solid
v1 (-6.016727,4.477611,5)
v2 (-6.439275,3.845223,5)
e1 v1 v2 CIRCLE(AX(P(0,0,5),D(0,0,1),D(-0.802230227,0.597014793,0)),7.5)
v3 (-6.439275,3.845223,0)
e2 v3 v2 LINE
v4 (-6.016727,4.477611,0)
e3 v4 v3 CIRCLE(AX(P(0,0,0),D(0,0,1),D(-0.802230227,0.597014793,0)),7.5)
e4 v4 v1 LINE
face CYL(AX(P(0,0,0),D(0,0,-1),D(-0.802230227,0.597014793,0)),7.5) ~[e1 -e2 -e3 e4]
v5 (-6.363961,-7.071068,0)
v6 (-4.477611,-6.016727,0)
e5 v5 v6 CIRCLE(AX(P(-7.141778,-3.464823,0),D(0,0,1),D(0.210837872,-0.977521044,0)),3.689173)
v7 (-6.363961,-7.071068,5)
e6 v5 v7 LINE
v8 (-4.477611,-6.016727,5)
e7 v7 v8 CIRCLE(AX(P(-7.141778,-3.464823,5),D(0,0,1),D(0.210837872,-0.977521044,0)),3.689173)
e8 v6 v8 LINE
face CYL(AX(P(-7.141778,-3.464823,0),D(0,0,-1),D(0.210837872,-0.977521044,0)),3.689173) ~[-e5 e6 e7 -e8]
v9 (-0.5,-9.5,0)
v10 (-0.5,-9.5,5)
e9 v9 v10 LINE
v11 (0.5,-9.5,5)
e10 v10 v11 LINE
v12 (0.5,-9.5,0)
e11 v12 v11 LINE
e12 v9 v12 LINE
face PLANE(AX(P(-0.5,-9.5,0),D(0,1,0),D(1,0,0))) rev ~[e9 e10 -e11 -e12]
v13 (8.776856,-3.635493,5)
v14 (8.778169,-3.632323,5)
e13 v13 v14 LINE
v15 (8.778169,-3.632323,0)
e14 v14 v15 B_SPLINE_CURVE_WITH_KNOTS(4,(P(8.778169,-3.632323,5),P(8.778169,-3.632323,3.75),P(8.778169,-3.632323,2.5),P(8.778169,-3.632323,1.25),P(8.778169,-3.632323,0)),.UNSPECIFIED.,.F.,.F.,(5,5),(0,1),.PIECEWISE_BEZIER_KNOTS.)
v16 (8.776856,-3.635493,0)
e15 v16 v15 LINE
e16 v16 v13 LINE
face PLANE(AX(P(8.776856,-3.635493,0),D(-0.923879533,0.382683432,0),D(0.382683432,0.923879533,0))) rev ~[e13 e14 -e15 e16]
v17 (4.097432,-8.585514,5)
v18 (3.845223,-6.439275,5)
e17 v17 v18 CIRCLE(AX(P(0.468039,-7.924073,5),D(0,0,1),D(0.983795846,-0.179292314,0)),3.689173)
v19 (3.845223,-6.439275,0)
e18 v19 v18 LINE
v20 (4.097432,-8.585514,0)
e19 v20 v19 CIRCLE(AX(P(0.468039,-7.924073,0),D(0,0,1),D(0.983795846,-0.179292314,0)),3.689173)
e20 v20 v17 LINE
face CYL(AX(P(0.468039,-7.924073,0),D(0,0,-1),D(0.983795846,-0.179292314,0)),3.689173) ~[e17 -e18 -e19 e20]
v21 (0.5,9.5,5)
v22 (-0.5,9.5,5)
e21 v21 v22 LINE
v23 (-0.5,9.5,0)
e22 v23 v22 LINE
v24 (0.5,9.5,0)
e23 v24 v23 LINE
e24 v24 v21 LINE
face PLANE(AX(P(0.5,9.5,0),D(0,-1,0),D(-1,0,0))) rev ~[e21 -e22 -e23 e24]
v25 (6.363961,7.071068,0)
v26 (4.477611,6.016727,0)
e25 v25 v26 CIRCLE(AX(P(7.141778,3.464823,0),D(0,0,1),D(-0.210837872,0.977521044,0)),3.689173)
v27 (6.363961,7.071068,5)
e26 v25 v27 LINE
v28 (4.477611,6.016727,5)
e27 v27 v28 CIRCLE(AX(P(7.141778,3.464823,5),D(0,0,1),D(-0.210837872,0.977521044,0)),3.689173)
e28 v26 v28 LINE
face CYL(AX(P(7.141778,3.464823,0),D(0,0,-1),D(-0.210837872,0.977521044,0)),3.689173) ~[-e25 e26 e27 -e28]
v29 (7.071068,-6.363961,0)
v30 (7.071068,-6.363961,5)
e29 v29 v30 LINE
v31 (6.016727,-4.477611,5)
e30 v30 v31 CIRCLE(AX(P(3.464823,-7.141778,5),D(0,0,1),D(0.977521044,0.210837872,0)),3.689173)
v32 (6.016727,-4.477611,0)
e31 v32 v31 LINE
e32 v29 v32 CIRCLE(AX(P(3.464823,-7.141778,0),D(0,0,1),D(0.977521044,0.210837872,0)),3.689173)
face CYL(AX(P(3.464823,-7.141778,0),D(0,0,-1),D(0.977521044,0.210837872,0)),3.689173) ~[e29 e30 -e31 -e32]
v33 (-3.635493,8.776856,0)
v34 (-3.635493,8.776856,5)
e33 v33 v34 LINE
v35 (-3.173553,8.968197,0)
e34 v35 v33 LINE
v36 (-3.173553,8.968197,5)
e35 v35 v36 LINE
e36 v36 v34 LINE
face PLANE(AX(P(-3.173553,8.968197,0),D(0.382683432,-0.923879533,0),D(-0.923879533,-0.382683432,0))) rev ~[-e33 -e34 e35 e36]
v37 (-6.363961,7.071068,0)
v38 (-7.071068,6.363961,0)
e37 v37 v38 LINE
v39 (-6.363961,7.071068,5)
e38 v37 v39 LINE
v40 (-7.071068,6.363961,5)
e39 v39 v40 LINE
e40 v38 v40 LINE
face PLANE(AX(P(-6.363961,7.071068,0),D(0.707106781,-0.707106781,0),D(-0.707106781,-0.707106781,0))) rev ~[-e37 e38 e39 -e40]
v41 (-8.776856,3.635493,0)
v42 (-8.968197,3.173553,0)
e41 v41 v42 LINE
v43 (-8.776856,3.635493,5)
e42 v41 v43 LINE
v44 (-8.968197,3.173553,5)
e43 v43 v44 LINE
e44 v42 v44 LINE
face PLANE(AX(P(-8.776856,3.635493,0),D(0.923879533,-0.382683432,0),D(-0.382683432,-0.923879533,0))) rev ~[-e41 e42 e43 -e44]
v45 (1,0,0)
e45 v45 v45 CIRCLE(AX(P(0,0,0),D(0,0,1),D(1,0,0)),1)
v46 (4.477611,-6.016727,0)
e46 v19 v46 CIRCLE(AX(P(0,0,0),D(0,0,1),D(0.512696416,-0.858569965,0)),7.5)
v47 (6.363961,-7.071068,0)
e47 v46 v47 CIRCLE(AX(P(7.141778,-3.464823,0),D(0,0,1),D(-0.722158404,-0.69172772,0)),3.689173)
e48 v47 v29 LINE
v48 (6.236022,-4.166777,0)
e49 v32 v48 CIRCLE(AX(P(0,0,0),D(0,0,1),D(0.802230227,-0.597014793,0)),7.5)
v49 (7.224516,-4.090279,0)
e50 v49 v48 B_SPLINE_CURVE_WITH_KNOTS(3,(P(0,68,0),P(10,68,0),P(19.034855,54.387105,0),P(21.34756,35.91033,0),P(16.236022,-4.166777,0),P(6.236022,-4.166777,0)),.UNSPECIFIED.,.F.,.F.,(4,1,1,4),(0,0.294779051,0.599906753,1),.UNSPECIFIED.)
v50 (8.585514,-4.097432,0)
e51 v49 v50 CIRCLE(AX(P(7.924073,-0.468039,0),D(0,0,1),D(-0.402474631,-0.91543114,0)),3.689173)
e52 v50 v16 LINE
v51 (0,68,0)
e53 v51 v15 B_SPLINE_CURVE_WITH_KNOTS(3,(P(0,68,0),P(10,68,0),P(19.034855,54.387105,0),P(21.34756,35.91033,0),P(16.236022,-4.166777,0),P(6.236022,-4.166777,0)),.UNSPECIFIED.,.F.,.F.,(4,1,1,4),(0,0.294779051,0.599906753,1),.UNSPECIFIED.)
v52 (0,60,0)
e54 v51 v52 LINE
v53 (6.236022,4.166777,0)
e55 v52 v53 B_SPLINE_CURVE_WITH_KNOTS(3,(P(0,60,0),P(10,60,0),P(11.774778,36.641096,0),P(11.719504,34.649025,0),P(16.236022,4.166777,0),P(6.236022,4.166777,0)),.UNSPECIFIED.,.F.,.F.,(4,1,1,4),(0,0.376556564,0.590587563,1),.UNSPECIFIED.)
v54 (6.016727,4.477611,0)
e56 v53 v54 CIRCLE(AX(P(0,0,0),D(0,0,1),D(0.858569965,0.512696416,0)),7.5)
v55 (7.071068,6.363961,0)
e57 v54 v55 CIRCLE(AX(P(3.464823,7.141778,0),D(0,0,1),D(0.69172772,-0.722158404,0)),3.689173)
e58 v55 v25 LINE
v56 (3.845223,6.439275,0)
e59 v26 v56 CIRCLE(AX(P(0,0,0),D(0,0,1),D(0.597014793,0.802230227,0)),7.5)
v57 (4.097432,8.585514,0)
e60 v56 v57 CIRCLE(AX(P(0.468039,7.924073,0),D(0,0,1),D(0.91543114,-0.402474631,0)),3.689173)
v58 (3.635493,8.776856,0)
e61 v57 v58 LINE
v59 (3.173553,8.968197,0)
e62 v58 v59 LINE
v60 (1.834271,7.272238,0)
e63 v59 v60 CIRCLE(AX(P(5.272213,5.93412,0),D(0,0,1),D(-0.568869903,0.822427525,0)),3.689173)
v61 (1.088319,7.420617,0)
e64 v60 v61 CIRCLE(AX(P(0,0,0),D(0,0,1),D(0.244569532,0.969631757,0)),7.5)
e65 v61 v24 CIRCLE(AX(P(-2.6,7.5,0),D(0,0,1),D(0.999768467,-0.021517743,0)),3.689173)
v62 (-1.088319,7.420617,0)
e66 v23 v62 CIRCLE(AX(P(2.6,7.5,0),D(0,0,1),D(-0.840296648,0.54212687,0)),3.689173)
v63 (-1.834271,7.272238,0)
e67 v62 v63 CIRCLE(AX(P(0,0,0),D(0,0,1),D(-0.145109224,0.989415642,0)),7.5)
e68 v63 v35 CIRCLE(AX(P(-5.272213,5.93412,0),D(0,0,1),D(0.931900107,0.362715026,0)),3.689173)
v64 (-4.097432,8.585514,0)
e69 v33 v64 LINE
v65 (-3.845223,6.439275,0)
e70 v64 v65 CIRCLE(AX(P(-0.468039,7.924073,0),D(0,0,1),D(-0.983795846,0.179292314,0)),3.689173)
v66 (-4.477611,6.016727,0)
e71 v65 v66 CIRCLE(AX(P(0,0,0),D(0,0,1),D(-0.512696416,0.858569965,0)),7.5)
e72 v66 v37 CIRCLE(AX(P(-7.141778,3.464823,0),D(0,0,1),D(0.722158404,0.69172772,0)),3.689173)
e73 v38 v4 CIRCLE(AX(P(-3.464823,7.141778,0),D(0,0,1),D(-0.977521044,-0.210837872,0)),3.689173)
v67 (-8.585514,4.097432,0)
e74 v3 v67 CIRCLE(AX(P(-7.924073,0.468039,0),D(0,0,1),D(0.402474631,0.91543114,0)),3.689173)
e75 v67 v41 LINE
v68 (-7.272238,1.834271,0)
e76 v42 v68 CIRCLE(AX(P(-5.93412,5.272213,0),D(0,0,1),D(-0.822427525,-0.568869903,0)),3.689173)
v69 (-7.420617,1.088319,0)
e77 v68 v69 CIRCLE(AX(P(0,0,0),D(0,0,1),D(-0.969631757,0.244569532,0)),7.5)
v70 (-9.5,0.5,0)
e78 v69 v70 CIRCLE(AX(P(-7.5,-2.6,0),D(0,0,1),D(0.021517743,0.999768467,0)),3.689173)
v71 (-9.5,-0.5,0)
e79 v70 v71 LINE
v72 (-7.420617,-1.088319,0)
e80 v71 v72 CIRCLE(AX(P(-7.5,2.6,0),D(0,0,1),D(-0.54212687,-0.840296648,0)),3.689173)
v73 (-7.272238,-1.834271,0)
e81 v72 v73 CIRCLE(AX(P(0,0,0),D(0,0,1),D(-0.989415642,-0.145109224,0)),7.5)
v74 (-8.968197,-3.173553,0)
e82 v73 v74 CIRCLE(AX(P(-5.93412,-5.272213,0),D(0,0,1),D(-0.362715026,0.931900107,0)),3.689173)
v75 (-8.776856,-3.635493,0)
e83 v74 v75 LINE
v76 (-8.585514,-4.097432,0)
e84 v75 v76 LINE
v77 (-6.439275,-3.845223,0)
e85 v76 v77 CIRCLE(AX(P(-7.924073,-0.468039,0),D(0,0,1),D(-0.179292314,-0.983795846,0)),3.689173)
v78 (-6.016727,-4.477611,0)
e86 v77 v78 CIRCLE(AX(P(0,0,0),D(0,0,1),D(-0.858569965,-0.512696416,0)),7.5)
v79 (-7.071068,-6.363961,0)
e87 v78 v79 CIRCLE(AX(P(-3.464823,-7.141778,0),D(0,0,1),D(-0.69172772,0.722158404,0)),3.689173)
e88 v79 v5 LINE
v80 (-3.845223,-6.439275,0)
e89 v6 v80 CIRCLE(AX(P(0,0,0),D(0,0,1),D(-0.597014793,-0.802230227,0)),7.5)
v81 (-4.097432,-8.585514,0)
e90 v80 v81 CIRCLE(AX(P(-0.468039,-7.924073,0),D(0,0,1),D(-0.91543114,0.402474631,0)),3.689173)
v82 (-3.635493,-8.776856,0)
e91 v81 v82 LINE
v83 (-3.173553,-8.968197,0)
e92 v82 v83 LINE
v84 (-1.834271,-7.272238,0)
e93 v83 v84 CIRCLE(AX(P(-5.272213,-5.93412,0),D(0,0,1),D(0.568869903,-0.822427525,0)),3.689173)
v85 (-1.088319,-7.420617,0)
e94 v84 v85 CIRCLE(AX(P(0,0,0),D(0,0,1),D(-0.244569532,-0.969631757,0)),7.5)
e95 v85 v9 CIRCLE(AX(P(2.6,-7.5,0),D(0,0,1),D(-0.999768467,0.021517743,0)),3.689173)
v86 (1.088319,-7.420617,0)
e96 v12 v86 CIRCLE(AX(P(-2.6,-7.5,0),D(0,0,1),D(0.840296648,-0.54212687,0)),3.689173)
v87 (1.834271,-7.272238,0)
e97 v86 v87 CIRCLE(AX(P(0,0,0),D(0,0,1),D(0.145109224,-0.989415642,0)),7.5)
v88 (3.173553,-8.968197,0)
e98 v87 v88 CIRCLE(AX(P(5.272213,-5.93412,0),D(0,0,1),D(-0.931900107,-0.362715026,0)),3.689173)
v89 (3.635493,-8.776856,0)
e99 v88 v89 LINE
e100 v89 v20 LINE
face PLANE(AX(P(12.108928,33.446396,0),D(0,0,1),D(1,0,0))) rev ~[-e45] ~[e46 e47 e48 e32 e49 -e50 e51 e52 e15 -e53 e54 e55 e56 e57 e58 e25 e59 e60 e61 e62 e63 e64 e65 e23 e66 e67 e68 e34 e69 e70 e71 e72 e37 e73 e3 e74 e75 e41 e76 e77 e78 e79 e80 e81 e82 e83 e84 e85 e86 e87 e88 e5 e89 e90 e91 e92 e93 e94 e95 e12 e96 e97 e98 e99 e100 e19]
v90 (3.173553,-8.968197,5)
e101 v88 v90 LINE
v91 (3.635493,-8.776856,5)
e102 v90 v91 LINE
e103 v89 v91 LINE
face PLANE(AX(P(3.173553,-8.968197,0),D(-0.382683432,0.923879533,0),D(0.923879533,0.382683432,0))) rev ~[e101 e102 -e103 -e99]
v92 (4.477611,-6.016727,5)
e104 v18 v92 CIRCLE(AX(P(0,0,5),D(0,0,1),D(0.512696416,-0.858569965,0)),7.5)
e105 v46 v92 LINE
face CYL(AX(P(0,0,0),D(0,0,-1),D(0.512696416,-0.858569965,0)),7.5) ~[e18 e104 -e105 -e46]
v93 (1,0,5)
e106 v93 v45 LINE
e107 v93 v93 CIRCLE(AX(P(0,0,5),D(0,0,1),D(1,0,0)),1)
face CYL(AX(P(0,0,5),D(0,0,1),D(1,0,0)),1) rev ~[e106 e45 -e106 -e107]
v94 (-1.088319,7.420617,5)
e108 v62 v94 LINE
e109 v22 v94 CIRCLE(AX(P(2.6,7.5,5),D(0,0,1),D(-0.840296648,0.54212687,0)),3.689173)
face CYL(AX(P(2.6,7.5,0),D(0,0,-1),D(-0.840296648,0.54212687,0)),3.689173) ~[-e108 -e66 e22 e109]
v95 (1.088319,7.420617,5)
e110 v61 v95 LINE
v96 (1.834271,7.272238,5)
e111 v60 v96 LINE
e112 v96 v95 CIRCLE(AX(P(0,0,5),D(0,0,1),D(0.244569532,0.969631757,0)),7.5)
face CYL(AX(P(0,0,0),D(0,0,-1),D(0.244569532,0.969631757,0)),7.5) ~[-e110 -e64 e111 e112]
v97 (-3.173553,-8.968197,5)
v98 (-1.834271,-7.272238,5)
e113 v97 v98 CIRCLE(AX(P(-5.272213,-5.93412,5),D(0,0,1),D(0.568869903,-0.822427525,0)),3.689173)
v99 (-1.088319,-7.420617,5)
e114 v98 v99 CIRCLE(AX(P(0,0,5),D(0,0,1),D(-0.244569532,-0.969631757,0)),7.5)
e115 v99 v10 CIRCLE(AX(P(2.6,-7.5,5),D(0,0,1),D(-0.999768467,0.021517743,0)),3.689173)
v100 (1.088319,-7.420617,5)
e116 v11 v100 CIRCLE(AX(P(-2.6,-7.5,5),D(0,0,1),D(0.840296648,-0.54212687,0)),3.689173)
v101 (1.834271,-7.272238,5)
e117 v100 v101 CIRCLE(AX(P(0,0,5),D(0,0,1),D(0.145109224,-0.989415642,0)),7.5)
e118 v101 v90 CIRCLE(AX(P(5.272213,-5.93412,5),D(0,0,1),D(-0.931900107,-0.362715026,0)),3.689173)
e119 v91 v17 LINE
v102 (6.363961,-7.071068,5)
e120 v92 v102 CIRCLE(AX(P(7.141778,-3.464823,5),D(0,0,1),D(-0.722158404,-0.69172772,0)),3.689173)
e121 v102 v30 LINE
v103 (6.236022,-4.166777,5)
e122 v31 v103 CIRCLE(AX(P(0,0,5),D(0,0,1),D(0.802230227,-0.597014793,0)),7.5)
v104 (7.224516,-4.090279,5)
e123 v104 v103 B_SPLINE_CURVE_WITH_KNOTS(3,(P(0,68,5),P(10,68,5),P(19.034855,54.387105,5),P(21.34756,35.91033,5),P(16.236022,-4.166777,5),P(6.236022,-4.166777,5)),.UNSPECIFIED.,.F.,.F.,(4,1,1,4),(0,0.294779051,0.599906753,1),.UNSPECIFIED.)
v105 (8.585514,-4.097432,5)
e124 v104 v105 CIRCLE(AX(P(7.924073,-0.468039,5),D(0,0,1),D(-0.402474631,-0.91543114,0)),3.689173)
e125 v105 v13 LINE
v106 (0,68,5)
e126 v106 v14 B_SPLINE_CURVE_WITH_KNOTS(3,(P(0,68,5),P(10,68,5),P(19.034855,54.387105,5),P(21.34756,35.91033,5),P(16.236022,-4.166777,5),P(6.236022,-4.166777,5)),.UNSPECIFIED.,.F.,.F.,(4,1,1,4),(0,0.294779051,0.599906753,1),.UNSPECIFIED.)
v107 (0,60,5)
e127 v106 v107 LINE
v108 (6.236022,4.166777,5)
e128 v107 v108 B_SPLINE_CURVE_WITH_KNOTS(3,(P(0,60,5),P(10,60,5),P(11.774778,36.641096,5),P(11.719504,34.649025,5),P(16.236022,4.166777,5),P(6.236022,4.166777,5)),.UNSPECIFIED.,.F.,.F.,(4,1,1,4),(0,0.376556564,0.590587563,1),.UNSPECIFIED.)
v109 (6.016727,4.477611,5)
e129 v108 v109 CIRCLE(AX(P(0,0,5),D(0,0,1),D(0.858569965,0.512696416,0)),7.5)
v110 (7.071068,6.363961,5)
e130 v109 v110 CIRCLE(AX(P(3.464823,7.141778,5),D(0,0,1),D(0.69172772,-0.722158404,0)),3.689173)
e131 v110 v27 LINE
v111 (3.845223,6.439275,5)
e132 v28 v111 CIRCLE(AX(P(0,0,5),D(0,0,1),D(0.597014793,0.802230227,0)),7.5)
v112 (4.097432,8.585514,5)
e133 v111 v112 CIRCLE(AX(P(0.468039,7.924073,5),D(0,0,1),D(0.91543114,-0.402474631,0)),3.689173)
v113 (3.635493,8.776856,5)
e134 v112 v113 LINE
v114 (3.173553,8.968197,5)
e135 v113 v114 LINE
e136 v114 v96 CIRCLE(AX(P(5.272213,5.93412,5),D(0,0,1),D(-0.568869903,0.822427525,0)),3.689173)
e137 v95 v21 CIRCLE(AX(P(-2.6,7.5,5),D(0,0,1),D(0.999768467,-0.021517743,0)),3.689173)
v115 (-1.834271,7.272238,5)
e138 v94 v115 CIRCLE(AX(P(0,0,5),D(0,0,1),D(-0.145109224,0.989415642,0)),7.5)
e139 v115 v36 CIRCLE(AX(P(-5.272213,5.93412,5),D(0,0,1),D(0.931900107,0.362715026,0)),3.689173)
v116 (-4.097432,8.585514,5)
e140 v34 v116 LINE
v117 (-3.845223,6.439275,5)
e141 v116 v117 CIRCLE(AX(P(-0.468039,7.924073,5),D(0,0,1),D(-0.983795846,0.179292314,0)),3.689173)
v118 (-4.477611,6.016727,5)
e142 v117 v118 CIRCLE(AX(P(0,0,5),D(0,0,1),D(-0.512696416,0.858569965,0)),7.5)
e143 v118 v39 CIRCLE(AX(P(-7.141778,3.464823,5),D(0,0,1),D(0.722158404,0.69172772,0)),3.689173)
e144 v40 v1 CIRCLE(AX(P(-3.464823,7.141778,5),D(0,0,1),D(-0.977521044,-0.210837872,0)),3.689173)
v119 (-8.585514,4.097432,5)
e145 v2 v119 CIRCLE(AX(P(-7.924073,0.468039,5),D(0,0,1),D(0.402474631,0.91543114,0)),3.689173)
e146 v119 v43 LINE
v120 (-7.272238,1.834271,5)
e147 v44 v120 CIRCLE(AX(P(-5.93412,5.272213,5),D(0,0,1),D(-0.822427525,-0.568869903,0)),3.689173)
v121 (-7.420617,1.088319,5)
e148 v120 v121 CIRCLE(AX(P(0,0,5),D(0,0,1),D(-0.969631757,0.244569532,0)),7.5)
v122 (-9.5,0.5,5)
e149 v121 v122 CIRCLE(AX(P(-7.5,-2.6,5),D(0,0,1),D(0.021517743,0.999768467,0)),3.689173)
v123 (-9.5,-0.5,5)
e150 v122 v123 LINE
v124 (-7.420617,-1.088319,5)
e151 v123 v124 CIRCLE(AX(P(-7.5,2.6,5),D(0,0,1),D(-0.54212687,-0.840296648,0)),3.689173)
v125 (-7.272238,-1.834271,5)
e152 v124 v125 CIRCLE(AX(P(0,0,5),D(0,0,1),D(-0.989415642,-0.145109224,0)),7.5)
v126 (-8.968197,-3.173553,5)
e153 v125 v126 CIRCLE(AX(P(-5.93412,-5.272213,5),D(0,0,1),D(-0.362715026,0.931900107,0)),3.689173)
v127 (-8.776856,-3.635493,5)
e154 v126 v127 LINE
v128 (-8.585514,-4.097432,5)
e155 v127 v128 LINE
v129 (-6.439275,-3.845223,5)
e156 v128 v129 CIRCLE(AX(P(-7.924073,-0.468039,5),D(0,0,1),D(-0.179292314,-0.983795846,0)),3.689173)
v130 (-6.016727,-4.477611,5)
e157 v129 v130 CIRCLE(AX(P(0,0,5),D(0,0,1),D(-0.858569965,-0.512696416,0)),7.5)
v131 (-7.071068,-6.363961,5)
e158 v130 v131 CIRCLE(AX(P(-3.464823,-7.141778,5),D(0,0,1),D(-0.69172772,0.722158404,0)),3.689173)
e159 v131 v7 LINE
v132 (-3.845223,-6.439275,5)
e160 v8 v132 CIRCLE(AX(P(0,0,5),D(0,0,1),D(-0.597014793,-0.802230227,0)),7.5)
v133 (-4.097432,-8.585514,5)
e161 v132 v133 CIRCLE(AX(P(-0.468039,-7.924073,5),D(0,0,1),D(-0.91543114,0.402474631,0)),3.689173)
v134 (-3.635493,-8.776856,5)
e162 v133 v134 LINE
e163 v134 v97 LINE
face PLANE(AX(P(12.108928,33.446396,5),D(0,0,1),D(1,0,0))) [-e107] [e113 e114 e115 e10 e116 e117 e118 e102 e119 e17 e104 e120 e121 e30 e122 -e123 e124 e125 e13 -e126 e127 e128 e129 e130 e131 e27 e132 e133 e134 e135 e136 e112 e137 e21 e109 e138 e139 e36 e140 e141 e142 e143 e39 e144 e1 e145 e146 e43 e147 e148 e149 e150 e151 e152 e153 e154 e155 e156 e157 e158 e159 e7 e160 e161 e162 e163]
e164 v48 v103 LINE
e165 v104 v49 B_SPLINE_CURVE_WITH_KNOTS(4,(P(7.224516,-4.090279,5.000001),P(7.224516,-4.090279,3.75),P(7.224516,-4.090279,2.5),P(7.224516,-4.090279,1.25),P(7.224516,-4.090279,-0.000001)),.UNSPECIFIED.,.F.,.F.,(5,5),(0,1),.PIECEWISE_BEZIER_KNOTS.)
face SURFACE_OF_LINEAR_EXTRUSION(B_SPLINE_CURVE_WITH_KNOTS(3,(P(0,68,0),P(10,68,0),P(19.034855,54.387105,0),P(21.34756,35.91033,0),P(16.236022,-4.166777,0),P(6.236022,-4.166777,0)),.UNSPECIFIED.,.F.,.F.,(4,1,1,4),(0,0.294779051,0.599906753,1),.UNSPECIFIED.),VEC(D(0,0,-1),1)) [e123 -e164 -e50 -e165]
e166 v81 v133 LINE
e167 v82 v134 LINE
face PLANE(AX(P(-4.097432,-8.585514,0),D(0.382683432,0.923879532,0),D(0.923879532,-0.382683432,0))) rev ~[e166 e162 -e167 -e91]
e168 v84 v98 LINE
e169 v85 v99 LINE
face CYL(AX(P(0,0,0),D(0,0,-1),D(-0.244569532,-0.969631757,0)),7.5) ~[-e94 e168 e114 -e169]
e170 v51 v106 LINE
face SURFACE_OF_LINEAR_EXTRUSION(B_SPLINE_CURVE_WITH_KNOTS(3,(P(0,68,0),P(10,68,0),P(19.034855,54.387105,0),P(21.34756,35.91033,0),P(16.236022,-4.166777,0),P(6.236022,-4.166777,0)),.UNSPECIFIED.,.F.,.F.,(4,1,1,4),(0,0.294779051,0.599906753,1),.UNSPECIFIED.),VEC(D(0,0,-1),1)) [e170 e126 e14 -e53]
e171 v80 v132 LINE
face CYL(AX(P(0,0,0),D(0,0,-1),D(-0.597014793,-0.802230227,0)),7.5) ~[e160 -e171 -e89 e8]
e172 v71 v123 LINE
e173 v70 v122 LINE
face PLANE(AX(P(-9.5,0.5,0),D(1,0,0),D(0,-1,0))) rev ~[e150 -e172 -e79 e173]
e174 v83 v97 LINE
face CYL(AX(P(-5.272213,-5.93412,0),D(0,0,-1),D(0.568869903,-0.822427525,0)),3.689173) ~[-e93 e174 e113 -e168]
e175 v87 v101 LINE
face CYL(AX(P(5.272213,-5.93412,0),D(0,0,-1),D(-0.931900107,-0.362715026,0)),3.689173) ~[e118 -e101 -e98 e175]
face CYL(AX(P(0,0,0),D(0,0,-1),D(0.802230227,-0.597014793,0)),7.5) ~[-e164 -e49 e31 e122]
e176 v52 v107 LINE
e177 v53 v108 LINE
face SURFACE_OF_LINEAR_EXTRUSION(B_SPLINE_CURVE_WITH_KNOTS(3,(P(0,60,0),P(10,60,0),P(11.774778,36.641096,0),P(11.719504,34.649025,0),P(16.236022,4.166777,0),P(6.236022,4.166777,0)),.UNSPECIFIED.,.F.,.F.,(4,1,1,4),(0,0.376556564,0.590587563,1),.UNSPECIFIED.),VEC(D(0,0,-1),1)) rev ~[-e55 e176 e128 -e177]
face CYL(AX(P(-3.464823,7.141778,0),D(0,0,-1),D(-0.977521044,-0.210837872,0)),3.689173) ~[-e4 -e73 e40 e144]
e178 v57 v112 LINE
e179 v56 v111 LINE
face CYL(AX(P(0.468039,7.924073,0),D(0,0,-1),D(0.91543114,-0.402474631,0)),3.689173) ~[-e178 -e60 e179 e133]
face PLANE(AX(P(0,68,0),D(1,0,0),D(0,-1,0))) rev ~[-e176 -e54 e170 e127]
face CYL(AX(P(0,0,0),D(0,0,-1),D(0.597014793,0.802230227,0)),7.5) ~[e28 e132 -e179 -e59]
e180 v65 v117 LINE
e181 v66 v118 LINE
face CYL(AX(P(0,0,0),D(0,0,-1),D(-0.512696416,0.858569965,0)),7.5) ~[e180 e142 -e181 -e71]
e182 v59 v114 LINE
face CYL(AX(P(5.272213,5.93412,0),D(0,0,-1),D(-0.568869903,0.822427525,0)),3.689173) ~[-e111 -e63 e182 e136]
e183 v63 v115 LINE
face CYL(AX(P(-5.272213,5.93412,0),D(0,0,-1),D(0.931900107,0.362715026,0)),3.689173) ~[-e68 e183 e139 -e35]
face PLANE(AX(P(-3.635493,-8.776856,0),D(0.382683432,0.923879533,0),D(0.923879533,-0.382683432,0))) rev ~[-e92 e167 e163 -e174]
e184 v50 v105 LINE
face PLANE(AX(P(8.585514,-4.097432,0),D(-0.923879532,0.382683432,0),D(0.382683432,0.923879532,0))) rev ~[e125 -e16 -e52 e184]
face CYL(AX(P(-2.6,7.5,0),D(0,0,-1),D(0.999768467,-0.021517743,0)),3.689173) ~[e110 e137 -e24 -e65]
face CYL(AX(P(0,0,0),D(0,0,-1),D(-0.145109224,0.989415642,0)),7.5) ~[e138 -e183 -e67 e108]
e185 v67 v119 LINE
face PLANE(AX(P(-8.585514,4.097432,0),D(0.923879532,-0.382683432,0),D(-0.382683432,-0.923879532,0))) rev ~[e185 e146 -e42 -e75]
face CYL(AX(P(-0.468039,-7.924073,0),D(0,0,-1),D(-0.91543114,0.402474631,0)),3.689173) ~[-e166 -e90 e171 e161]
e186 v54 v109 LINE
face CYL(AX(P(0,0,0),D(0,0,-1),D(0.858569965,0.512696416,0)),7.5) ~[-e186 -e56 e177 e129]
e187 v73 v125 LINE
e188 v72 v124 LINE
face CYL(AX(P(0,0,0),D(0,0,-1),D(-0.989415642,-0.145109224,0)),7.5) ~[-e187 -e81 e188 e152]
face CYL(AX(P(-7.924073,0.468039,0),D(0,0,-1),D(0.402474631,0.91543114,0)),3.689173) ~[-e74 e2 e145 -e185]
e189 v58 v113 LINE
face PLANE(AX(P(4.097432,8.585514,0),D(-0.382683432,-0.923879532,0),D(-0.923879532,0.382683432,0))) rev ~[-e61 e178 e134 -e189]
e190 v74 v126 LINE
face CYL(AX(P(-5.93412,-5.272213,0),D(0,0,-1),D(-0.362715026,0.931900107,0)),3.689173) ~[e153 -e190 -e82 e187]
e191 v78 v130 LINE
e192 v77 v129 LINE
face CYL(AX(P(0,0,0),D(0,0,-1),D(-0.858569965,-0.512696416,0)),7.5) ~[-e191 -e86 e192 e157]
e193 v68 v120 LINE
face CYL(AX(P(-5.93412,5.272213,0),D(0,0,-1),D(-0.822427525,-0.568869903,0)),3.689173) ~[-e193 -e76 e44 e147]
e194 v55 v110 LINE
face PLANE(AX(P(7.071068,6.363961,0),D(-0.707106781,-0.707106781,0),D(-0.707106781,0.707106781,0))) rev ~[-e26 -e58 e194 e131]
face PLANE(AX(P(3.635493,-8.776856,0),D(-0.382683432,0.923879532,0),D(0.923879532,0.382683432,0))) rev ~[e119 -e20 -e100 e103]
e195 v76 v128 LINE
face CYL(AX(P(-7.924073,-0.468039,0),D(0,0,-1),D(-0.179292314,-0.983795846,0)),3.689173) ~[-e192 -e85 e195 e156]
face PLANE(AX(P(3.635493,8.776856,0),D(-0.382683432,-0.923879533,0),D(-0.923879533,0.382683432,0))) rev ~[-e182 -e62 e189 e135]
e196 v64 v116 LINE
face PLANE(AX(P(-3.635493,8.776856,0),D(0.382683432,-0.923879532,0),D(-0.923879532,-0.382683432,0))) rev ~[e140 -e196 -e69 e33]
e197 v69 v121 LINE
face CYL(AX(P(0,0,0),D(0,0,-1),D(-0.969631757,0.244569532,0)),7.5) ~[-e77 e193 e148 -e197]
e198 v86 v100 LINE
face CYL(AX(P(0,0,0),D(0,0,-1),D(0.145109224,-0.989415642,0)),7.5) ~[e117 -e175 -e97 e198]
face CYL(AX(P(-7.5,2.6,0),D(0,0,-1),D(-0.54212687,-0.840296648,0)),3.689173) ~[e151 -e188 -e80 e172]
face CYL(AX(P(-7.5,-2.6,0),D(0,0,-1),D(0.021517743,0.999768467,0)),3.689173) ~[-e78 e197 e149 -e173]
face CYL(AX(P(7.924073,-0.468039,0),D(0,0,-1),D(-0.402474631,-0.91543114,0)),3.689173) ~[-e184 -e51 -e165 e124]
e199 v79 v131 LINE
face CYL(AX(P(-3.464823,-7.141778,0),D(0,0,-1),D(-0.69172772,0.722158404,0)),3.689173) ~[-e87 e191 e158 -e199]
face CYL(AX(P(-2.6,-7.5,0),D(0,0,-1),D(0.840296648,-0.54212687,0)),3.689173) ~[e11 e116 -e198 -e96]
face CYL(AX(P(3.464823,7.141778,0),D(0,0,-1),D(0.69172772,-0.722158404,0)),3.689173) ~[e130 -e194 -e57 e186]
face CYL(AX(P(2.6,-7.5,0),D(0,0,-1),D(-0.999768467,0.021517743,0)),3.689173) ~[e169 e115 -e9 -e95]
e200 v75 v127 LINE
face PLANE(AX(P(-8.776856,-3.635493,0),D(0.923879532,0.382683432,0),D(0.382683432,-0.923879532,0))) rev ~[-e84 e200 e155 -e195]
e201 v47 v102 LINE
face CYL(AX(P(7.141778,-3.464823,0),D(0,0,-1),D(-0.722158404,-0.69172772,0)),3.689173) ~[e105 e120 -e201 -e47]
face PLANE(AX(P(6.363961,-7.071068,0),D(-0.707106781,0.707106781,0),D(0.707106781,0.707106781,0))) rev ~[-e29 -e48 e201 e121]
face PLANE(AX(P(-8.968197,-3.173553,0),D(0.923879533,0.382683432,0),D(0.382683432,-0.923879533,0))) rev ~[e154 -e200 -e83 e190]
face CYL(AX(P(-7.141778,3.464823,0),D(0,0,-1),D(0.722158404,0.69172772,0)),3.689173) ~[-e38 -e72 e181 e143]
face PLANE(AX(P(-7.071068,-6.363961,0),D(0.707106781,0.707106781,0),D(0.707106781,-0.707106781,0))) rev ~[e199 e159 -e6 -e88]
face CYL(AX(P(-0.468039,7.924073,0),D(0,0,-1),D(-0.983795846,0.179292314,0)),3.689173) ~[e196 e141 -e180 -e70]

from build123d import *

# Parameters (mm, degrees)
F1_DEPTH = 5
F2_R     = 1
F3_DEPTH = 5.001
F5_DEPTH = 5


with BuildPart() as f1:
    # F0 (on Top) → F1 (new body)
    with BuildSketch(Plane.XY):
        with BuildLine():
            ThreePointArc((7.4206173165, -1.0883191822), (7.4801280027, -0.5456052265), (7.5, 0))
            ThreePointArc((7.5, 0), (7.4801280027, 0.5456052265), (7.4206173165, 1.0883191822))
            ThreePointArc((7.4206173165, 1.0883191822), (7.355889603, 1.4631774151), (7.2722381774, 1.8342714877))
            ThreePointArc((7.2722381774, 1.8342714877), (6.9290964938, 2.8701257427), (6.4392747372, 3.8452231222))
            ThreePointArc((6.4392747372, 3.8452231222), (6.2360220923, 4.1667767476), (6.0167266989, 4.4776109513))
            ThreePointArc((6.0167266989, 4.4776109513), (5.3033008589, 5.3033008589), (4.4776109513, 6.0167266989))
            ThreePointArc((4.4776109513, 6.0167266989), (4.1667767476, 6.2360220923), (3.8452231222, 6.4392747372))
            ThreePointArc((3.8452231222, 6.4392747372), (2.8701257427, 6.9290964938), (1.8342714877, 7.2722381774))
            ThreePointArc((1.8342714877, 7.2722381774), (1.4631774151, 7.355889603), (1.0883191822, 7.4206173165))
            ThreePointArc((1.0883191822, 7.4206173165), (0, 7.5), (-1.0883191822, 7.4206173165))
            ThreePointArc((-1.0883191822, 7.4206173165), (-1.4631774151, 7.355889603), (-1.8342714877, 7.2722381774))
            ThreePointArc((-1.8342714877, 7.2722381774), (-2.8701257427, 6.9290964938), (-3.8452231222, 6.4392747372))
            ThreePointArc((-3.8452231222, 6.4392747372), (-4.1667767476, 6.2360220923), (-4.4776109513, 6.0167266989))
            ThreePointArc((-4.4776109513, 6.0167266989), (-5.3033008589, 5.3033008589), (-6.0167266989, 4.4776109513))
            ThreePointArc((-6.0167266989, 4.4776109513), (-6.2360220923, 4.1667767476), (-6.4392747372, 3.8452231222))
            ThreePointArc((-6.4392747372, 3.8452231222), (-6.9290964938, 2.8701257427), (-7.2722381774, 1.8342714877))
            ThreePointArc((-7.2722381774, 1.8342714877), (-7.355889603, 1.4631774151), (-7.4206173165, 1.0883191822))
            ThreePointArc((-7.4206173165, 1.0883191822), (-7.5, 0), (-7.4206173165, -1.0883191822))
            ThreePointArc((-7.4206173165, -1.0883191822), (-7.355889603, -1.4631774151), (-7.2722381774, -1.8342714877))
            ThreePointArc((-7.2722381774, -1.8342714877), (-6.9290964938, -2.8701257427), (-6.4392747372, -3.8452231222))
            ThreePointArc((-6.4392747372, -3.8452231222), (-6.2360220923, -4.1667767476), (-6.0167266989, -4.4776109513))
            ThreePointArc((-6.0167266989, -4.4776109513), (-5.3033008589, -5.3033008589), (-4.4776109513, -6.0167266989))
            ThreePointArc((-4.4776109513, -6.0167266989), (-4.1667767476, -6.2360220923), (-3.8452231222, -6.4392747372))
            ThreePointArc((-3.8452231222, -6.4392747372), (-2.8701257427, -6.9290964938), (-1.8342714877, -7.2722381774))
            ThreePointArc((-1.8342714877, -7.2722381774), (-1.4631774151, -7.355889603), (-1.0883191822, -7.4206173165))
            ThreePointArc((-1.0883191822, -7.4206173165), (0, -7.5), (1.0883191822, -7.4206173165))
            ThreePointArc((1.0883191822, -7.4206173165), (1.4631774151, -7.355889603), (1.8342714877, -7.2722381774))
            ThreePointArc((1.8342714877, -7.2722381774), (2.8701257427, -6.9290964938), (3.8452231222, -6.4392747372))
            ThreePointArc((3.8452231222, -6.4392747372), (4.1667767476, -6.2360220923), (4.4776109513, -6.0167266989))
            ThreePointArc((4.4776109513, -6.0167266989), (5.3033008589, -5.3033008589), (6.0167266989, -4.4776109513))
            ThreePointArc((6.0167266989, -4.4776109513), (6.2360220923, -4.1667767476), (6.4392747372, -3.8452231222))
            ThreePointArc((6.4392747372, -3.8452231222), (6.9290964938, -2.8701257427), (7.2722381774, -1.8342714877))
            ThreePointArc((7.2722381774, -1.8342714877), (7.355889603, -1.4631774151), (7.4206173165, -1.0883191822))
        make_face()
        with BuildLine():
            ThreePointArc((7.4206173165, 1.0883191822), (7.4801280027, 0.5456052265), (7.5, 0))
            ThreePointArc((7.5, 0), (7.4801280027, -0.5456052265), (7.4206173165, -1.0883191822))
            ThreePointArc((7.4206173165, -1.0883191822), (8.5043518229, -0.9498278009), (9.5, -0.5))
            Line((9.5, -0.5), (9.5, 0))
            Line((9.5, 0), (9.5, 0.5))
            ThreePointArc((9.5, 0.5), (8.5043518229, 0.9498278009), (7.4206173165, 1.0883191822))
        make_face()
        with BuildLine():
            ThreePointArc((6.4392747372, 3.8452231222), (6.9290964938, 2.8701257427), (7.2722381774, 1.8342714877))
            ThreePointArc((7.2722381774, 1.8342714877), (8.2204799494, 2.376948081), (8.968197275, 3.1735528412))
            Line((8.968197275, 3.1735528412), (8.7768555589, 3.6354926075))
            Line((8.7768555589, 3.6354926075), (8.5855138427, 4.0974323737))
            ThreePointArc((8.5855138427, 4.0974323737), (7.4935132234, 4.1320010103), (6.4392747372, 3.8452231222))
        make_face()
        with BuildLine():
            ThreePointArc((8.968197275, -3.1735528412), (8.2204799494, -2.376948081), (7.2722381774, -1.8342714877))
            ThreePointArc((7.2722381774, -1.8342714877), (6.9290964938, -2.8701257427), (6.4392747372, -3.8452231222))
            ThreePointArc((6.4392747372, -3.8452231222), (7.4935132234, -4.1320010103), (8.5855138427, -4.0974323737))
            Line((8.5855138427, -4.0974323737), (8.7768555589, -3.6354926075))
            Line((8.7768555589, -3.6354926075), (8.968197275, -3.1735528412))
        make_face()
        with BuildLine():
            ThreePointArc((4.4776109513, 6.0167266989), (5.3033008589, 5.3033008589), (6.0167266989, 4.4776109513))
            ThreePointArc((6.0167266989, 4.4776109513), (6.6851145225, 5.3418551646), (7.0710678119, 6.3639610307))
            Line((7.0710678119, 6.3639610307), (6.7175144213, 6.7175144213))
            Line((6.7175144213, 6.7175144213), (6.3639610307, 7.0710678119))
            ThreePointArc((6.3639610307, 7.0710678119), (5.3418551646, 6.6851145225), (4.4776109513, 6.0167266989))
        make_face()
        with BuildLine():
            ThreePointArc((7.0710678119, -6.3639610307), (6.6851145225, -5.3418551646), (6.0167266989, -4.4776109513))
            ThreePointArc((6.0167266989, -4.4776109513), (5.3033008589, -5.3033008589), (4.4776109513, -6.0167266989))
            ThreePointArc((4.4776109513, -6.0167266989), (5.3418551646, -6.6851145225), (6.3639610307, -7.0710678119))
            Line((6.3639610307, -7.0710678119), (6.7175144213, -6.7175144213))
            Line((6.7175144213, -6.7175144213), (7.0710678119, -6.3639610307))
        make_face()
        with BuildLine():
            ThreePointArc((1.8342714877, 7.2722381774), (2.8701257427, 6.9290964938), (3.8452231222, 6.4392747372))
            ThreePointArc((3.8452231222, 6.4392747372), (4.1320010103, 7.4935132234), (4.0974323737, 8.5855138427))
            Line((4.0974323737, 8.5855138427), (3.6354926075, 8.7768555589))
            Line((3.6354926075, 8.7768555589), (3.1735528412, 8.968197275))
            ThreePointArc((3.1735528412, 8.968197275), (2.376948081, 8.2204799494), (1.8342714877, 7.2722381774))
        make_face()
        with BuildLine():
            ThreePointArc((4.0974323737, -8.5855138427), (4.1320010103, -7.4935132234), (3.8452231222, -6.4392747372))
            ThreePointArc((3.8452231222, -6.4392747372), (2.8701257427, -6.9290964938), (1.8342714877, -7.2722381774))
            ThreePointArc((1.8342714877, -7.2722381774), (2.376948081, -8.2204799494), (3.1735528412, -8.968197275))
            Line((3.1735528412, -8.968197275), (3.6354926075, -8.7768555589))
            Line((3.6354926075, -8.7768555589), (4.0974323737, -8.5855138427))
        make_face()
        with BuildLine():
            ThreePointArc((-1.0883191822, 7.4206173165), (0, 7.5), (1.0883191822, 7.4206173165))
            ThreePointArc((1.0883191822, 7.4206173165), (0.9498278009, 8.5043518229), (0.5, 9.5))
            Line((0.5, 9.5), (0, 9.5))
            Line((0, 9.5), (-0.5, 9.5))
            ThreePointArc((-0.5, 9.5), (-0.9498278009, 8.5043518229), (-1.0883191822, 7.4206173165))
        make_face()
        with BuildLine():
            ThreePointArc((0.5, -9.5), (0.9498278009, -8.5043518229), (1.0883191822, -7.4206173165))
            ThreePointArc((1.0883191822, -7.4206173165), (0, -7.5), (-1.0883191822, -7.4206173165))
            ThreePointArc((-1.0883191822, -7.4206173165), (-0.9498278009, -8.5043518229), (-0.5, -9.5))
            Line((-0.5, -9.5), (0, -9.5))
            Line((0, -9.5), (0.5, -9.5))
        make_face()
        with BuildLine():
            ThreePointArc((-3.8452231222, 6.4392747372), (-2.8701257427, 6.9290964938), (-1.8342714877, 7.2722381774))
            ThreePointArc((-1.8342714877, 7.2722381774), (-2.376948081, 8.2204799494), (-3.1735528412, 8.968197275))
            Line((-3.1735528412, 8.968197275), (-3.6354926075, 8.7768555589))
            Line((-3.6354926075, 8.7768555589), (-4.0974323737, 8.5855138427))
            ThreePointArc((-4.0974323737, 8.5855138427), (-4.1320010103, 7.4935132234), (-3.8452231222, 6.4392747372))
        make_face()
        with BuildLine():
            ThreePointArc((-3.1735528412, -8.968197275), (-2.376948081, -8.2204799494), (-1.8342714877, -7.2722381774))
            ThreePointArc((-1.8342714877, -7.2722381774), (-2.8701257427, -6.9290964938), (-3.8452231222, -6.4392747372))
            ThreePointArc((-3.8452231222, -6.4392747372), (-4.1320010103, -7.4935132234), (-4.0974323737, -8.5855138427))
            Line((-4.0974323737, -8.5855138427), (-3.6354926075, -8.7768555589))
            Line((-3.6354926075, -8.7768555589), (-3.1735528412, -8.968197275))
        make_face()
        with BuildLine():
            ThreePointArc((-6.0167266989, 4.4776109513), (-5.3033008589, 5.3033008589), (-4.4776109513, 6.0167266989))
            ThreePointArc((-4.4776109513, 6.0167266989), (-5.3418551646, 6.6851145225), (-6.3639610307, 7.0710678119))
            Line((-6.3639610307, 7.0710678119), (-6.7175144213, 6.7175144213))
            Line((-6.7175144213, 6.7175144213), (-7.0710678119, 6.3639610307))
            ThreePointArc((-7.0710678119, 6.3639610307), (-6.6851145225, 5.3418551646), (-6.0167266989, 4.4776109513))
        make_face()
        with BuildLine():
            ThreePointArc((-6.3639610307, -7.0710678119), (-5.3418551646, -6.6851145225), (-4.4776109513, -6.0167266989))
            ThreePointArc((-4.4776109513, -6.0167266989), (-5.3033008589, -5.3033008589), (-6.0167266989, -4.4776109513))
            ThreePointArc((-6.0167266989, -4.4776109513), (-6.6851145225, -5.3418551646), (-7.0710678119, -6.3639610307))
            Line((-7.0710678119, -6.3639610307), (-6.7175144213, -6.7175144213))
            Line((-6.7175144213, -6.7175144213), (-6.3639610307, -7.0710678119))
        make_face()
        with BuildLine():
            ThreePointArc((-7.2722381774, 1.8342714877), (-6.9290964938, 2.8701257427), (-6.4392747372, 3.8452231222))
            ThreePointArc((-6.4392747372, 3.8452231222), (-7.4935132234, 4.1320010103), (-8.5855138427, 4.0974323737))
            Line((-8.5855138427, 4.0974323737), (-8.7768555589, 3.6354926075))
            Line((-8.7768555589, 3.6354926075), (-8.968197275, 3.1735528412))
            ThreePointArc((-8.968197275, 3.1735528412), (-8.2204799494, 2.376948081), (-7.2722381774, 1.8342714877))
        make_face()
        with BuildLine():
            ThreePointArc((-8.5855138427, -4.0974323737), (-7.4935132234, -4.1320010103), (-6.4392747372, -3.8452231222))
            ThreePointArc((-6.4392747372, -3.8452231222), (-6.9290964938, -2.8701257427), (-7.2722381774, -1.8342714877))
            ThreePointArc((-7.2722381774, -1.8342714877), (-8.2204799494, -2.376948081), (-8.968197275, -3.1735528412))
            Line((-8.968197275, -3.1735528412), (-8.7768555589, -3.6354926075))
            Line((-8.7768555589, -3.6354926075), (-8.5855138427, -4.0974323737))
        make_face()
        with BuildLine():
            ThreePointArc((-7.4206173165, -1.0883191822), (-7.5, 0), (-7.4206173165, 1.0883191822))
            ThreePointArc((-7.4206173165, 1.0883191822), (-8.5043518229, 0.9498278009), (-9.5, 0.5))
            Line((-9.5, 0.5), (-9.5, 0))
            Line((-9.5, 0), (-9.5, -0.5))
            ThreePointArc((-9.5, -0.5), (-8.5043518229, -0.9498278009), (-7.4206173165, -1.0883191822))
        make_face()
    extrude(amount=F1_DEPTH)

    # F2 (on face) → F3 (cut, through all)
    with BuildSketch(Plane.XY.offset(5)):
        Circle(F2_R)
    extrude(amount=-F3_DEPTH, mode=Mode.SUBTRACT)

    # F4 (on Top) → F5 (join, through all)
    with BuildSketch(Plane.XY):
        with BuildLine():
            Line((0, 68), (0, 60))
            add(Edge.make_bspline(
                [(0, 60), (10, 60), (11.7747784616, 36.641096379), (11.7195041535, 34.6490253416), (16.2360220923, 4.1667767476), (6.2360220923, 4.1667767476)],
                knots=[0, 0, 0, 0, 0.3765565643, 0.5905875626, 1, 1, 1, 1], degree=3))
            Line((6.2360220923, 4.1667767476), (6.2360220923, -4.1667767476))
            add(Edge.make_bspline(
                [(0, 68), (10, 68), (19.0348554769, 54.3871049974), (21.3475598799, 35.9103301278), (16.2360220923, -4.1667767476), (6.2360220923, -4.1667767476)],
                knots=[0, 0, 0, 0, 0.2947790511, 0.5999067534, 1, 1, 1, 1], degree=3))
        make_face()
    extrude(amount=F5_DEPTH)


solid = f1.part
